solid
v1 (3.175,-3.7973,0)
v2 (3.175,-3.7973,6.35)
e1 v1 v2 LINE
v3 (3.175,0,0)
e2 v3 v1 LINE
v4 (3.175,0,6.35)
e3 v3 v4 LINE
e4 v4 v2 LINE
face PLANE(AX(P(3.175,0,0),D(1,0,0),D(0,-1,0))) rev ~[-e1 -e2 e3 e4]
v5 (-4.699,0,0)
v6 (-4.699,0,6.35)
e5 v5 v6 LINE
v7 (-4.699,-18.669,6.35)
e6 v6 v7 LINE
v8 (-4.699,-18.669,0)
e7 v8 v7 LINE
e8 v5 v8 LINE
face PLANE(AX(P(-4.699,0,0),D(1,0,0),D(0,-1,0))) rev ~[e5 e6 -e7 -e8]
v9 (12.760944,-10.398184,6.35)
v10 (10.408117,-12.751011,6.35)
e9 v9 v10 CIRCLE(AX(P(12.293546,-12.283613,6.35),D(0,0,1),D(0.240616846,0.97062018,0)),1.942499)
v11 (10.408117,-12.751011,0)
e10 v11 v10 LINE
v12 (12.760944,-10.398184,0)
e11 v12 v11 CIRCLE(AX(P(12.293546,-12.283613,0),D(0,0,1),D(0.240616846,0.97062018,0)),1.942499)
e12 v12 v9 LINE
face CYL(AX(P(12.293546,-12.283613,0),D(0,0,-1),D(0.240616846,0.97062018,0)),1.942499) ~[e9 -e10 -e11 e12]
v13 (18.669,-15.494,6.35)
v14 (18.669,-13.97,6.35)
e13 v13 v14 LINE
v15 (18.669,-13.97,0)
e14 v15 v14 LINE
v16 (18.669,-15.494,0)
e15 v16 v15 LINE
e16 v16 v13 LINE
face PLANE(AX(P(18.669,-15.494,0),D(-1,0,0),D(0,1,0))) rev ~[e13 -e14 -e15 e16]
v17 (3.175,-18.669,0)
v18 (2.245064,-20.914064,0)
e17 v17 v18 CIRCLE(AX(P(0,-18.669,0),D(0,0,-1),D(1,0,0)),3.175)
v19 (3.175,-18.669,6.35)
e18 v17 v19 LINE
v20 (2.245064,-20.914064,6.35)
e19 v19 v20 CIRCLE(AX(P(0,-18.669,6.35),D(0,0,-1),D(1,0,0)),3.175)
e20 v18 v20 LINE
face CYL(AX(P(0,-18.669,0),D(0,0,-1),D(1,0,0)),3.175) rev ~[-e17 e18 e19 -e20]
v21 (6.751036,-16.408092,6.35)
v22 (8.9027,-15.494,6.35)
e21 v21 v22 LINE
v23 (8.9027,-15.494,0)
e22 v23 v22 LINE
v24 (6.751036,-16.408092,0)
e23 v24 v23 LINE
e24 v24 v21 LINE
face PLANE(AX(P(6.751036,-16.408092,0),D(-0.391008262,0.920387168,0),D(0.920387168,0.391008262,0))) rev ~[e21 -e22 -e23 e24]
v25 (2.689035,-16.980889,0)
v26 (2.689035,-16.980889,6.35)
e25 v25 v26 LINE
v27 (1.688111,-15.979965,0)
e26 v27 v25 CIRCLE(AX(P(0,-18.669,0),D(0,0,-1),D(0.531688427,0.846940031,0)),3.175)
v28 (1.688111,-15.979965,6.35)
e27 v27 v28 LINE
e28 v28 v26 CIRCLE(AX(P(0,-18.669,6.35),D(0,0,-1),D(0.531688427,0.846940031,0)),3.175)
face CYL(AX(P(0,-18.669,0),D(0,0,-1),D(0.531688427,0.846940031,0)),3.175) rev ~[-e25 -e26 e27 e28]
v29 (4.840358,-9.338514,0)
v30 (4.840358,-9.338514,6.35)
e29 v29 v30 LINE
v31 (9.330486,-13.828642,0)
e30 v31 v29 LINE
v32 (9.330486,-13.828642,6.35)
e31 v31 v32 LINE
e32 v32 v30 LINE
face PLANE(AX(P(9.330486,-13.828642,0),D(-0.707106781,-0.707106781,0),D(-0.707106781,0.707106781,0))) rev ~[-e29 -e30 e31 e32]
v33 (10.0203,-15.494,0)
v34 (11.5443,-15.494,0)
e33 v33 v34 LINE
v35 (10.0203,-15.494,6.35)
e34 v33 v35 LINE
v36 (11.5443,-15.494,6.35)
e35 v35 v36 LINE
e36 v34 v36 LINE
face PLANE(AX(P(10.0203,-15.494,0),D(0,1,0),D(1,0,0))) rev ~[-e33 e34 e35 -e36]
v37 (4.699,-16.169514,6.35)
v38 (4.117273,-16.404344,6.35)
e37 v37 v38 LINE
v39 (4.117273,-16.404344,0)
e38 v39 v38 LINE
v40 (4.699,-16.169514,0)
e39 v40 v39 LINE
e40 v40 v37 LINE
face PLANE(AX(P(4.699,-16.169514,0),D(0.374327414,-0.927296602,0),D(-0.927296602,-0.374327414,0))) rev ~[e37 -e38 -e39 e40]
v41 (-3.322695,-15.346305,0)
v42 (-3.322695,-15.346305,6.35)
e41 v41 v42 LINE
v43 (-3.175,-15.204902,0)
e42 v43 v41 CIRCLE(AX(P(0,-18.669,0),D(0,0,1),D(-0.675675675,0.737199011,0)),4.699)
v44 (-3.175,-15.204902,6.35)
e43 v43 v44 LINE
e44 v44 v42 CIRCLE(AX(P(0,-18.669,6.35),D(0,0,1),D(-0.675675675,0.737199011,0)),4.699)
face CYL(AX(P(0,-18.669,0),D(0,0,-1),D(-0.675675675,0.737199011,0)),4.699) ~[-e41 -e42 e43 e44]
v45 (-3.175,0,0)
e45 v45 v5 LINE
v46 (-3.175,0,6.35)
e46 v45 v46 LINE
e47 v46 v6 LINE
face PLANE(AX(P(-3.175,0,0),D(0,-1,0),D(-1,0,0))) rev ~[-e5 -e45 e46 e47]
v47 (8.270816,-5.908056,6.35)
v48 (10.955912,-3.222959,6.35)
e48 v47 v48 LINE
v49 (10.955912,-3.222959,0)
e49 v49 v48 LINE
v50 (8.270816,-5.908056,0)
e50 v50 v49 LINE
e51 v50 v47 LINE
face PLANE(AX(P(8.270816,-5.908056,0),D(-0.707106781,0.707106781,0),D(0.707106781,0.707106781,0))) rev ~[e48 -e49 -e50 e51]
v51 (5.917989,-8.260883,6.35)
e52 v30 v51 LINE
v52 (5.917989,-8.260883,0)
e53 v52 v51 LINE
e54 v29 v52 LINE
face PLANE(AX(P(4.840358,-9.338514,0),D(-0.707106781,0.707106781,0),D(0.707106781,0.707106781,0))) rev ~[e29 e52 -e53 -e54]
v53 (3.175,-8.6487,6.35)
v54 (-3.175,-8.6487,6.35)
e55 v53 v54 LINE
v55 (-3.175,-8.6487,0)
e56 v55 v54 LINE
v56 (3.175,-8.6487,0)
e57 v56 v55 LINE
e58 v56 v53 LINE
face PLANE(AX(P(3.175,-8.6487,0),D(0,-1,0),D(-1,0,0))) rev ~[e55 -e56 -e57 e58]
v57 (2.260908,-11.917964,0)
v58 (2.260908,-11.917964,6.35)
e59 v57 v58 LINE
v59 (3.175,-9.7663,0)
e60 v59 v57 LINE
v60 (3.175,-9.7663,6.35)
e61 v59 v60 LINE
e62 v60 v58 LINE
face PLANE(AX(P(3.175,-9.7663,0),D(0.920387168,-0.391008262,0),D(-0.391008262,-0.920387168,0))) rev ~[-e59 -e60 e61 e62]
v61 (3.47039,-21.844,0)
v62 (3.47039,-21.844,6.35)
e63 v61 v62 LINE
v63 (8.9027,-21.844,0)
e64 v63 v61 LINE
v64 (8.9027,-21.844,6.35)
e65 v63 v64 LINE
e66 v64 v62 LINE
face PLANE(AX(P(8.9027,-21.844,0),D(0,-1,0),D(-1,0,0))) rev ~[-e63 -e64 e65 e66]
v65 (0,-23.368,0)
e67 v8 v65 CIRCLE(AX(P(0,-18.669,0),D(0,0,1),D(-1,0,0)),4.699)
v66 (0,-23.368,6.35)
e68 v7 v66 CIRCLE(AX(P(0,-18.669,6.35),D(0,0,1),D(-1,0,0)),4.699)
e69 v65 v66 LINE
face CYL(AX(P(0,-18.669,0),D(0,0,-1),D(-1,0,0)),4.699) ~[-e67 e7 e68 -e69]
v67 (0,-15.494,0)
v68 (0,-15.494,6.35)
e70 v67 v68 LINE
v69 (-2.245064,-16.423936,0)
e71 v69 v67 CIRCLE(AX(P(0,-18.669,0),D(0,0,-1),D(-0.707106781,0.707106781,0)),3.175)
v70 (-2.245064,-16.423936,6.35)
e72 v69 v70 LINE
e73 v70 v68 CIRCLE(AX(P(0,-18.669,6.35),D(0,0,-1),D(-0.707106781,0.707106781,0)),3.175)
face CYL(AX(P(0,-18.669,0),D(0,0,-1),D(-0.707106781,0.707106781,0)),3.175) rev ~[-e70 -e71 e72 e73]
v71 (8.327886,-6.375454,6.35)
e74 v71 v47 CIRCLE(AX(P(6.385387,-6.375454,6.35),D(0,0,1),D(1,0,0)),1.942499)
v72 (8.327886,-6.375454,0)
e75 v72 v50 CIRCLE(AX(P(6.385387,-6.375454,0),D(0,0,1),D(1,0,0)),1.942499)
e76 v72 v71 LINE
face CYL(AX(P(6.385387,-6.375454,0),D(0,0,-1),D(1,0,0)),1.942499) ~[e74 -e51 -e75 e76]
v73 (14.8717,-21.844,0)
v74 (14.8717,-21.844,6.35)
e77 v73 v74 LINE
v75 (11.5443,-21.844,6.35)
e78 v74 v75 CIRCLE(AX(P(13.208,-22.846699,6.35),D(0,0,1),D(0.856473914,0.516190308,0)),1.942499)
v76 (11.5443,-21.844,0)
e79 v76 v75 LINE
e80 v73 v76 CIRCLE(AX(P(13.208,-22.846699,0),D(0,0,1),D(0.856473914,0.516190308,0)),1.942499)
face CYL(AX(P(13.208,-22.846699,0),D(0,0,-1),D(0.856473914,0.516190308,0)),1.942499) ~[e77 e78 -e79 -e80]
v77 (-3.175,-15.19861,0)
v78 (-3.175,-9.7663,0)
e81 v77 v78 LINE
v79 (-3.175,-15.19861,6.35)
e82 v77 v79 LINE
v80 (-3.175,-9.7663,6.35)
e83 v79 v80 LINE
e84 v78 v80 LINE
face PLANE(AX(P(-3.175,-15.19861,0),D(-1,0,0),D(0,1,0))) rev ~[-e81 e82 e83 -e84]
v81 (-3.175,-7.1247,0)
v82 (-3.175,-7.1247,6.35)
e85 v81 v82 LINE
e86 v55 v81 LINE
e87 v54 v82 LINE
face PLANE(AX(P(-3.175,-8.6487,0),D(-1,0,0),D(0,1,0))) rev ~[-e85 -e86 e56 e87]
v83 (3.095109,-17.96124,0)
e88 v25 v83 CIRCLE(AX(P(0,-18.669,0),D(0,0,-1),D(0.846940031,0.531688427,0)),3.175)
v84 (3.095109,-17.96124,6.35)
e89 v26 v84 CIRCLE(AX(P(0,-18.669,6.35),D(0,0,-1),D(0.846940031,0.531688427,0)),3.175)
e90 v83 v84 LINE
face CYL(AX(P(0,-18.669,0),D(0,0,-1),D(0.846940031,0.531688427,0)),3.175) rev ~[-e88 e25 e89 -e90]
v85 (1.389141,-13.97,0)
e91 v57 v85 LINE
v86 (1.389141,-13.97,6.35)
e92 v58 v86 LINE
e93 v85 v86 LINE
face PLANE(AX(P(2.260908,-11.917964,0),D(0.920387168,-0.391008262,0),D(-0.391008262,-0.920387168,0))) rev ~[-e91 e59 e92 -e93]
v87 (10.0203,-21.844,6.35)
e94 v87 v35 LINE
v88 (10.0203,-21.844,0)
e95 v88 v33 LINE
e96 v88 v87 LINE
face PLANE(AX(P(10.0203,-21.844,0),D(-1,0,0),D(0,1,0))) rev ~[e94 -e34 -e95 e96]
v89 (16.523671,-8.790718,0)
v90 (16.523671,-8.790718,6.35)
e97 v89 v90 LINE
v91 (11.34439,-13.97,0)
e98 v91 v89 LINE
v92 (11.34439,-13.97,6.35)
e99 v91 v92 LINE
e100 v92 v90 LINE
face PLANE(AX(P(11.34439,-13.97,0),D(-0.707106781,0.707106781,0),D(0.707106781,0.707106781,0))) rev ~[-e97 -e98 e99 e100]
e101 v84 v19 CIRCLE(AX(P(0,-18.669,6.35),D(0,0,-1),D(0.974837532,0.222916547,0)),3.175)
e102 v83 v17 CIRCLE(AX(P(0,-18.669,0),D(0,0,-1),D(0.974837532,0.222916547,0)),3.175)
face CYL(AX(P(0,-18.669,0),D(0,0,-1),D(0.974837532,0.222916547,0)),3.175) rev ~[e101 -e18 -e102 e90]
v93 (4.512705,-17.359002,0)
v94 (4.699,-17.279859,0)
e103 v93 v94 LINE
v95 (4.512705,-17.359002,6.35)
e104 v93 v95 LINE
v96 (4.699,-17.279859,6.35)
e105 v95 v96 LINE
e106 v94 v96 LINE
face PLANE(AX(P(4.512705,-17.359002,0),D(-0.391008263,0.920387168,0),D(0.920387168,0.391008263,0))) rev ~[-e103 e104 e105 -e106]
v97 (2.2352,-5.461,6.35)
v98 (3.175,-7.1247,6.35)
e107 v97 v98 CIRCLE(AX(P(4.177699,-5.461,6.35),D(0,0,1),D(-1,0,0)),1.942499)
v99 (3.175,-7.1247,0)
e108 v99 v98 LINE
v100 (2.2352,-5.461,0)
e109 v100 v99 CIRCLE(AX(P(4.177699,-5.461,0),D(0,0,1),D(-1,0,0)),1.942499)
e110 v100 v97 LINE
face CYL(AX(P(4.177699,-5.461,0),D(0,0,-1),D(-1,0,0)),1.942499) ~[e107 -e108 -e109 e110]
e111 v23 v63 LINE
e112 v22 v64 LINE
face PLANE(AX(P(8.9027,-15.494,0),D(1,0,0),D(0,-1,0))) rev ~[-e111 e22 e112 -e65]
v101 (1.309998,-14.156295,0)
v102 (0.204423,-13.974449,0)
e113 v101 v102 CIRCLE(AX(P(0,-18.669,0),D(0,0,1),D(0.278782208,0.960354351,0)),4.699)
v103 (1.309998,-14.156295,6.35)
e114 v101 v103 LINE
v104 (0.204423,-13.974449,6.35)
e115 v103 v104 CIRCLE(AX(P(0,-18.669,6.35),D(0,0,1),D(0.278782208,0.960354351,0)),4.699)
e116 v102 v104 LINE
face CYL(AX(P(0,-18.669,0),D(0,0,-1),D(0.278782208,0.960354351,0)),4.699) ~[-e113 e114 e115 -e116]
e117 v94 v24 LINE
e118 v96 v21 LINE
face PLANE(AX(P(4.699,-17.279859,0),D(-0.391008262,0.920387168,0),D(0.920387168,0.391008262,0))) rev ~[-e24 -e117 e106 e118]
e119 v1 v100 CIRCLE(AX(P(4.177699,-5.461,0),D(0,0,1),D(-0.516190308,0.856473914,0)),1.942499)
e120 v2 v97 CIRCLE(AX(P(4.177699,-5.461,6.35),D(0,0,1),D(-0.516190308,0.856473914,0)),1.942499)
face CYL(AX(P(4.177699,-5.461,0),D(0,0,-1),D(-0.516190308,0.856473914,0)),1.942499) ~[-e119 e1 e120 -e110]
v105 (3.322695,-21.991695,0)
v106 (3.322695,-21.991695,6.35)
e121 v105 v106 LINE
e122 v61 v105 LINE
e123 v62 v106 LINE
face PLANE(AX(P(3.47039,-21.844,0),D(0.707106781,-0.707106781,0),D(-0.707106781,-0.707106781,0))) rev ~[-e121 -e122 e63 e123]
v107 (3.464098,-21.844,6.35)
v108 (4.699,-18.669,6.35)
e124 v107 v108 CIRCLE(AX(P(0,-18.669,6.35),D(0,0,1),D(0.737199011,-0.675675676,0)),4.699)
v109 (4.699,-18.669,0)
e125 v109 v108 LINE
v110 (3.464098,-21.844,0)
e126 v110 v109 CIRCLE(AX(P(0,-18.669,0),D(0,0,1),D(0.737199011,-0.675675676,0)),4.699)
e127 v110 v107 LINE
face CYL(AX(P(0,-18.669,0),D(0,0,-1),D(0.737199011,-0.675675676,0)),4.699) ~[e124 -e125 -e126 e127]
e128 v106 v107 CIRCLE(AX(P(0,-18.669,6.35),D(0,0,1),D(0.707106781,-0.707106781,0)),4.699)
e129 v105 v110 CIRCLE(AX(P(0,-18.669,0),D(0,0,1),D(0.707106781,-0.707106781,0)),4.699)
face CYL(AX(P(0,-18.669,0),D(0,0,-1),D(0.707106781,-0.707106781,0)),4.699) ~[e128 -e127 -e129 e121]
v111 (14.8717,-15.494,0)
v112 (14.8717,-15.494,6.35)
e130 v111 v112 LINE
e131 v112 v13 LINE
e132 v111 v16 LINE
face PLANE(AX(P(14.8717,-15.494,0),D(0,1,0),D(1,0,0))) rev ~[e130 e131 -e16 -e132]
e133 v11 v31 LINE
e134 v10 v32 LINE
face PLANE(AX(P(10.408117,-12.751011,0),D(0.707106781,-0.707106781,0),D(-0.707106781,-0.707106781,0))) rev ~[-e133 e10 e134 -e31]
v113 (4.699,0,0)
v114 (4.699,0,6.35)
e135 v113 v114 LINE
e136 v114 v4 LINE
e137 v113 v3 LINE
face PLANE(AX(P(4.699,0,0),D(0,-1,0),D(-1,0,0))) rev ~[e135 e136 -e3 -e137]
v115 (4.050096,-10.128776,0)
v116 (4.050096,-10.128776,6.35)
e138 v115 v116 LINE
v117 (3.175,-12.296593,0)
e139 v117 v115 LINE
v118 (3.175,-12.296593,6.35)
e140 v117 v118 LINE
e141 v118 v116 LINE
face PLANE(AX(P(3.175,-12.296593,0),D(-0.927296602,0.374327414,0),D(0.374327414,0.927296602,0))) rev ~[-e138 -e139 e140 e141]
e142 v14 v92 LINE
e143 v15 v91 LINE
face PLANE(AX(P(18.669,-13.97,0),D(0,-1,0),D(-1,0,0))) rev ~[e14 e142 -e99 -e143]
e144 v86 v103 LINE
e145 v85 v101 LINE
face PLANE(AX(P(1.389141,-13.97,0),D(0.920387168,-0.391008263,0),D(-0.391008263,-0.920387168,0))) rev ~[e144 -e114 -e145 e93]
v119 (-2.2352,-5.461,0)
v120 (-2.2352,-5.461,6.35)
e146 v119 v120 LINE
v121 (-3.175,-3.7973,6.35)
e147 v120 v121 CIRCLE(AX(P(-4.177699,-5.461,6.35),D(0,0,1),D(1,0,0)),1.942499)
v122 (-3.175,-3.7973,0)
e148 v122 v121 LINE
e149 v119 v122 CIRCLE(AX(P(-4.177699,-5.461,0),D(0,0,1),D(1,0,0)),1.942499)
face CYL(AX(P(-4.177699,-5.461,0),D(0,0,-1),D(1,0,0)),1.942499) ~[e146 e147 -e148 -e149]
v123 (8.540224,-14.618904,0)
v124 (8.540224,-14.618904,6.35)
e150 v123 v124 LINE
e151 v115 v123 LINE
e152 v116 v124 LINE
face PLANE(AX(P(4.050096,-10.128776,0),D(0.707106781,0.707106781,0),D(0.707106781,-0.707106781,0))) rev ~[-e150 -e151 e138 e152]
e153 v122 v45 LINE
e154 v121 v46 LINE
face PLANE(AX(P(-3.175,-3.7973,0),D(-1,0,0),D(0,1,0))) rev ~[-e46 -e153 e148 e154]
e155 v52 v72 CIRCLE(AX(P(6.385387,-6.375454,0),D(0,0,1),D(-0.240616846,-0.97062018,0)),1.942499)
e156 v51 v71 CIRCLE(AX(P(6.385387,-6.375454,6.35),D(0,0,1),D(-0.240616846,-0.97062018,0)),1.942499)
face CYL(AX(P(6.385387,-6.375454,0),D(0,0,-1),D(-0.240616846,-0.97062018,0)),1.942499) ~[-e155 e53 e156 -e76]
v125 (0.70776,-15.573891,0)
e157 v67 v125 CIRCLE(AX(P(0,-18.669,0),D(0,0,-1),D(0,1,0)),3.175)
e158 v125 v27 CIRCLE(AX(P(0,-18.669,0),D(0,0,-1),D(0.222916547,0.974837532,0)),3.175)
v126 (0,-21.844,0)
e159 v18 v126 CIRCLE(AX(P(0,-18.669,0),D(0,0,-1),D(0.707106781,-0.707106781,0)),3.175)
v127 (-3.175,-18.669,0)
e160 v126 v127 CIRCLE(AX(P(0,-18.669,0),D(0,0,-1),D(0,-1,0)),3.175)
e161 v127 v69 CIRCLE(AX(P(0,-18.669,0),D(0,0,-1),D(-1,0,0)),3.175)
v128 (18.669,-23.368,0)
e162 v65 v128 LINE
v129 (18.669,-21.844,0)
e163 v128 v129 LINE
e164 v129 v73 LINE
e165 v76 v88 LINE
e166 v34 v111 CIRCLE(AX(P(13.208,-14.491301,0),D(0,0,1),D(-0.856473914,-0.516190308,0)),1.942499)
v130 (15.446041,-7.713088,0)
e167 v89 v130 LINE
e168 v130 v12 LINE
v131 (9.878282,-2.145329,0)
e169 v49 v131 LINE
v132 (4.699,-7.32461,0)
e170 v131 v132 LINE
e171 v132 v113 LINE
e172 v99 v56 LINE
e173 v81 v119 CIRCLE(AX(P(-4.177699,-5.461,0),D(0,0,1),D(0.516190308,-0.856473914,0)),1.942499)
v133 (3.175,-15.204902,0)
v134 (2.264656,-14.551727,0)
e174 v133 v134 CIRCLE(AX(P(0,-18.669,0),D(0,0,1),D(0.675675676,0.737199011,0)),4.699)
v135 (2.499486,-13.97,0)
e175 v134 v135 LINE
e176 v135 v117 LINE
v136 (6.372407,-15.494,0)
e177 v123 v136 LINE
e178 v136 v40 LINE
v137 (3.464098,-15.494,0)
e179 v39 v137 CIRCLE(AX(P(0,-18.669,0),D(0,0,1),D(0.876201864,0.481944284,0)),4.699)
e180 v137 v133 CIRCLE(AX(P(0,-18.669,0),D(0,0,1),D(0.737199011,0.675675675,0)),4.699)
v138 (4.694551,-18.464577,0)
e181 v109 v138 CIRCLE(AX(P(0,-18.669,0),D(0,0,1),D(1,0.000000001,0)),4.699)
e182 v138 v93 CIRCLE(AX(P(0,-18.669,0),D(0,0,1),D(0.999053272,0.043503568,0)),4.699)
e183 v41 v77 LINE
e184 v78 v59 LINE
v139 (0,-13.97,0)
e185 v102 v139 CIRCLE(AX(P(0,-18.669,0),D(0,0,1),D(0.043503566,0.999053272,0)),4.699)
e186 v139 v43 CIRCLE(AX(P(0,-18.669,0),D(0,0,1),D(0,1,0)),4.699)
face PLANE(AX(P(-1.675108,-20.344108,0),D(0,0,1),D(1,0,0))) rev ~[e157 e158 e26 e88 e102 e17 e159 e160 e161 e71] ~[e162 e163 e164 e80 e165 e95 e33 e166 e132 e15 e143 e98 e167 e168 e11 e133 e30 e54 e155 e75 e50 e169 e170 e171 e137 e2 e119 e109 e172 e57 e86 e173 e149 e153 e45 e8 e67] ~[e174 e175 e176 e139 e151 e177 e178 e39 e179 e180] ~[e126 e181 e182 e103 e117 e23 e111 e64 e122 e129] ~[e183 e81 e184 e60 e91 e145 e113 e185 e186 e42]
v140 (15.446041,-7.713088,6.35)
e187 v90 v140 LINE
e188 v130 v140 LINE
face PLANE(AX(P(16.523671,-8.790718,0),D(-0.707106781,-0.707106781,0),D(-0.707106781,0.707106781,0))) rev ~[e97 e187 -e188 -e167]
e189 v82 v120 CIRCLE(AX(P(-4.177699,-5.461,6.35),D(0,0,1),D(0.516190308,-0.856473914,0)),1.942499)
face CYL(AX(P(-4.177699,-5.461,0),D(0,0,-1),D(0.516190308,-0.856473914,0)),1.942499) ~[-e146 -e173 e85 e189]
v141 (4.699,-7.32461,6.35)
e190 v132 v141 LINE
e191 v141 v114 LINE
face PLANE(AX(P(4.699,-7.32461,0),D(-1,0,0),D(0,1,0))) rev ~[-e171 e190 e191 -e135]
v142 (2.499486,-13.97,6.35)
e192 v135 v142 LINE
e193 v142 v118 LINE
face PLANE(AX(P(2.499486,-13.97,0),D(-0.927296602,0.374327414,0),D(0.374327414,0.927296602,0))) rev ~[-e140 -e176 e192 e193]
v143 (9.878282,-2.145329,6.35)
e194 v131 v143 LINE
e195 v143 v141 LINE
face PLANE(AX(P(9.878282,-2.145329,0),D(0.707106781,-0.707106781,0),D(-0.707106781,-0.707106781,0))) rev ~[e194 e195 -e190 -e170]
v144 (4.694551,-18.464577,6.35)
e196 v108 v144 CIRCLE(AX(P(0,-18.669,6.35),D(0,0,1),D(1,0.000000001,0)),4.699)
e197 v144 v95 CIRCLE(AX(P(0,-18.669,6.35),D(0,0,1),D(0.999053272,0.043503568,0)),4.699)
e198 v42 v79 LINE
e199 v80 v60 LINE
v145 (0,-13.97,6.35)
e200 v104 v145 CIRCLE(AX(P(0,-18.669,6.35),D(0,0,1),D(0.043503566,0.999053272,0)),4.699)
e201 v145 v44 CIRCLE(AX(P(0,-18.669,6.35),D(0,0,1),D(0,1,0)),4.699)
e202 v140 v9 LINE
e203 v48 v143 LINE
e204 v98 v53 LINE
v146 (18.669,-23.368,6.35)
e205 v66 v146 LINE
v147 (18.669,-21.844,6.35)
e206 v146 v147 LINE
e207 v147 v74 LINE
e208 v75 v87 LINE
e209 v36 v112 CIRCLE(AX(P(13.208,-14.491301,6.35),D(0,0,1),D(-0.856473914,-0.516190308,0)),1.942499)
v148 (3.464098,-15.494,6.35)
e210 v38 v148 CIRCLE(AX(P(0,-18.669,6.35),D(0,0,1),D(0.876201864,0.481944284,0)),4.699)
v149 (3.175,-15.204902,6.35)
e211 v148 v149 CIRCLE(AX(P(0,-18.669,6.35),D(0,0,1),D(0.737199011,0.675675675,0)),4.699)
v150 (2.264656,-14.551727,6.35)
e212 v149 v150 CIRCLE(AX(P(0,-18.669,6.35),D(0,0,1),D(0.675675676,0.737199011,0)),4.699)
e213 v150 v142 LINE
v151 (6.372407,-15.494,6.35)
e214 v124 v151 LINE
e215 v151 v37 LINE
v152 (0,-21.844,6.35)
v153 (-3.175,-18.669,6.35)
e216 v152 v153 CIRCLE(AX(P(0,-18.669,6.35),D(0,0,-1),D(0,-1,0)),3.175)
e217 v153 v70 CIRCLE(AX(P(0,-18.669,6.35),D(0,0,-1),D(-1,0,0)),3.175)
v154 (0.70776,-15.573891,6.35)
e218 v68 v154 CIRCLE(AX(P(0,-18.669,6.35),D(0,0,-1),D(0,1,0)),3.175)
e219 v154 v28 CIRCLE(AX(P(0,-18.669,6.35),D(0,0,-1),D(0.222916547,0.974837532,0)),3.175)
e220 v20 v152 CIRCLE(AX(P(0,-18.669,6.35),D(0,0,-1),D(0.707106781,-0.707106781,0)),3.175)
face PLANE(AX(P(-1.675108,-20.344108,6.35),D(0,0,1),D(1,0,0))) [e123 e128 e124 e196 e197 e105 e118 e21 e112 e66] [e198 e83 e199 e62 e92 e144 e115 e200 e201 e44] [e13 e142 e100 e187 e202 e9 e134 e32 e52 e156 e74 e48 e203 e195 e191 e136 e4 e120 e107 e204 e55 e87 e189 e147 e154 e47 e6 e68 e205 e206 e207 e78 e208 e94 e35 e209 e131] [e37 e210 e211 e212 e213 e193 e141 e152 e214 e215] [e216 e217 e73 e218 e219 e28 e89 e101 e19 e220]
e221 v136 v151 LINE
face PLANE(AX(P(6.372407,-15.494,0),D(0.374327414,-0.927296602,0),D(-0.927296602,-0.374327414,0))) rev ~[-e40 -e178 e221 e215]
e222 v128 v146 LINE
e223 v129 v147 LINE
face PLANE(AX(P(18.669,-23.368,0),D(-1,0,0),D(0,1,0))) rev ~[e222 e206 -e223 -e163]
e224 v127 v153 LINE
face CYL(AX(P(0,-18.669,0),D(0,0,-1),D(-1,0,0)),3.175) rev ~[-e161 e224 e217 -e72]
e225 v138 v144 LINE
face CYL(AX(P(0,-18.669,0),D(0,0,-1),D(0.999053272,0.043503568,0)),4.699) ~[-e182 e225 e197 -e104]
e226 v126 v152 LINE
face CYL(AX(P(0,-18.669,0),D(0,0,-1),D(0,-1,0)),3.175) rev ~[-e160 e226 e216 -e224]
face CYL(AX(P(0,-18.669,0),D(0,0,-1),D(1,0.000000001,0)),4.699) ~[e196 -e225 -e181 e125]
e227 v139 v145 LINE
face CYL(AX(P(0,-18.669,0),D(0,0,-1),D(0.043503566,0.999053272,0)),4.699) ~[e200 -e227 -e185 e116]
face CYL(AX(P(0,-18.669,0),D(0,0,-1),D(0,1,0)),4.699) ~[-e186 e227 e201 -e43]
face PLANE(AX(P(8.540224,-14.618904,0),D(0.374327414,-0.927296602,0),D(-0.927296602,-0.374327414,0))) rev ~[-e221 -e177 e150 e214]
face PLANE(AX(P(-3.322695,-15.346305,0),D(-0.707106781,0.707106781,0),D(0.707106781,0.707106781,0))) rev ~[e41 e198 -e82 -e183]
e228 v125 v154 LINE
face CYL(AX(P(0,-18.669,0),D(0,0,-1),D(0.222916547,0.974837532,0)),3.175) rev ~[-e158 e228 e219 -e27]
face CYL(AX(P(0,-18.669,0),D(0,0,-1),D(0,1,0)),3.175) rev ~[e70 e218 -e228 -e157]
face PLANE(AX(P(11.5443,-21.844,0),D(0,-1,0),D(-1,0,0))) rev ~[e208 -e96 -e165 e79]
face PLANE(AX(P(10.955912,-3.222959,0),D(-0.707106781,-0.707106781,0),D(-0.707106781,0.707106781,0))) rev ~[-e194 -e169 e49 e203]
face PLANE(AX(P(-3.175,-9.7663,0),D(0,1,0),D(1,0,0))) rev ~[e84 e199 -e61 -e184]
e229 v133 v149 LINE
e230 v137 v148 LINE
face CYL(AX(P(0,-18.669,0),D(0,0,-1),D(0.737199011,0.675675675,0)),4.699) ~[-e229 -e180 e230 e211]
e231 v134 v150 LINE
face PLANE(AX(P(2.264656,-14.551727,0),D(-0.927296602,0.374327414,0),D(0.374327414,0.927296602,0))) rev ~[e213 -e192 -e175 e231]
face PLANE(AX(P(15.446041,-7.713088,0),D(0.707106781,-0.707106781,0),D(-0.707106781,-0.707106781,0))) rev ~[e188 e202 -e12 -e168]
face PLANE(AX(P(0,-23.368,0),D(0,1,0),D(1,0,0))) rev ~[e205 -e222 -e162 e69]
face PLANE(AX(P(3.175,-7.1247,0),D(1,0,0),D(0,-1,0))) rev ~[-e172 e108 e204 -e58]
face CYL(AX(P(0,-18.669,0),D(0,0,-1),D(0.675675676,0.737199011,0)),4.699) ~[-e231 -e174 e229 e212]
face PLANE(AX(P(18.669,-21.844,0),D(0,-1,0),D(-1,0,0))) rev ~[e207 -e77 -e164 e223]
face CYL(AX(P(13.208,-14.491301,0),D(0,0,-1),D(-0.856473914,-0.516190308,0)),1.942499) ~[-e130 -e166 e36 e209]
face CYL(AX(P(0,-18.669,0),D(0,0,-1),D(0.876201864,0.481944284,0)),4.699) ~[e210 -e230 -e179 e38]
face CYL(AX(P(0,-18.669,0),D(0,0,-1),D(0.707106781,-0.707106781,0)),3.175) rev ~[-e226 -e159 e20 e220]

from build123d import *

# Parameters (mm, degrees)
F0_W     = 1.524
F0_H     = 4.2037
F0_W_2   = 4.2037
F0_H_2   = 1.524
F1_DEPTH = 6.35


with BuildPart() as f1:
    # F0 (on Top) → F1 (new body)
    with BuildSketch(Plane.XY):
        with BuildLine():
            Line((-3.175, -18.669), (-3.175, -15.204901849))
            ThreePointArc((-3.175, -15.204901849), (-3.2496165995, -15.2748001007), (-3.3226947648, -15.3463052352))
            ThreePointArc((-3.3226947648, -15.3463052352), (-4.3413099233, -16.8707705513), (-4.699, -18.669))
            ThreePointArc((-4.699, -18.669), (-3.3226947563, -21.9916947733), (2.39e-08, -23.368))
            ThreePointArc((2.39e-08, -23.368), (1.7982294597, -23.0103099187), (3.3226947648, -21.9916947648))
            ThreePointArc((3.3226947648, -21.9916947648), (3.3941998993, -21.9186165995), (3.464098151, -21.844))
            Line((3.464098151, -21.844), (0, -21.844))
            ThreePointArc((0, -21.844), (-2.2450640303, -20.9140640303), (-3.175, -18.669))
        make_face()
        with BuildLine():
            ThreePointArc((0.204423263, -13.9744486764), (0.1022358318, -13.9711123008), (0, -13.97))
            ThreePointArc((0, -13.97), (-1.7033501972, -14.2895937496), (-3.175, -15.204901849))
            Line((-3.175, -15.204901849), (-3.175, -18.669))
            ThreePointArc((-3.175, -18.669), (-2.9333175157, -17.4539801022), (-2.2450640303, -16.4239359697))
            Line((-2.2450640303, -16.4239359697), (0.204423263, -13.9744486764))
        make_face()
        with BuildLine():
            ThreePointArc((1.3099975978, -14.1562949028), (0.7626497547, -14.0323022148), (0.204423263, -13.9744486764))
            Line((0.204423263, -13.9744486764), (-2.2450640303, -16.4239359697))
            ThreePointArc((-2.2450640303, -16.4239359697), (-1.2150198978, -15.7356824843), (0, -15.494))
            Line((0, -15.494), (0.7417000769, -15.494))
            Line((0.7417000769, -15.494), (1.3099975978, -14.1562949028))
        make_face()
        with BuildLine():
            Line((0.7077600368, -15.5738908371), (0.7417000769, -15.494))
            Line((0.7417000769, -15.494), (0, -15.494))
            ThreePointArc((0, -15.494), (0.3561273703, -15.5140359279), (0.7077600368, -15.5738908371))
        make_face()
        with BuildLine():
            Line((1.8842833415, -15.494), (0.7417000769, -15.494))
            Line((0.7417000769, -15.494), (0.7077600368, -15.5738908371))
            ThreePointArc((0.7077600368, -15.5738908371), (1.2150198978, -15.7356824843), (1.6881107561, -15.9799654009))
            Line((1.6881107561, -15.9799654009), (1.8842833415, -15.494))
        make_face()
        with BuildLine():
            ThreePointArc((2.264656191, -14.5517274396), (1.7982294487, -14.3276900767), (1.3099975978, -14.1562949028))
            Line((1.3099975978, -14.1562949028), (0.7417000769, -15.494))
            Line((0.7417000769, -15.494), (1.8842833415, -15.494))
            Line((1.8842833415, -15.494), (2.264656191, -14.5517274396))
        make_face()
        with BuildLine():
            Line((3.175, -15.494), (3.175, -15.204901849))
            ThreePointArc((3.175, -15.204901849), (2.739365633, -14.8510847405), (2.264656191, -14.5517274396))
            Line((2.264656191, -14.5517274396), (1.8842833415, -15.494))
            Line((1.8842833415, -15.494), (3.175, -15.494))
        make_face()
        with BuildLine():
            Line((3.175, -16.7847166585), (3.175, -15.494))
            Line((3.175, -15.494), (1.8842833415, -15.494))
            Line((1.8842833415, -15.494), (1.6881107561, -15.9799654009))
            ThreePointArc((1.6881107561, -15.9799654009), (2.2450640303, -16.4239359697), (2.6890345991, -16.9808892439))
            Line((2.6890345991, -16.9808892439), (3.175, -16.7847166585))
        make_face()
        with BuildLine():
            ThreePointArc((4.1172725604, -16.404343809), (3.8179152595, -15.929634367), (3.464098151, -15.494))
            Line((3.464098151, -15.494), (3.175, -15.494))
            Line((3.175, -15.494), (3.175, -16.7847166585))
            Line((3.175, -16.7847166585), (4.1172725604, -16.404343809))
        make_face()
        with BuildLine():
            Line((3.175, -17.9272999231), (3.175, -16.7847166585))
            Line((3.175, -16.7847166585), (2.6890345991, -16.9808892439))
            ThreePointArc((2.6890345991, -16.9808892439), (2.9333175157, -17.4539801022), (3.0951091629, -17.9612399632))
            Line((3.0951091629, -17.9612399632), (3.175, -17.9272999231))
        make_face()
        with BuildLine():
            ThreePointArc((4.5127050972, -17.3590024022), (4.3413099233, -16.8707705513), (4.1172725604, -16.404343809))
            Line((4.1172725604, -16.404343809), (3.175, -16.7847166585))
            Line((3.175, -16.7847166585), (3.175, -17.9272999231))
            Line((3.175, -17.9272999231), (4.5127050972, -17.3590024022))
        make_face()
        with BuildLine():
            ThreePointArc((3.464098151, -15.494), (3.3226947648, -15.3463052352), (3.175, -15.204901849))
            Line((3.175, -15.204901849), (3.175, -15.494))
            Line((3.175, -15.494), (3.464098151, -15.494))
        make_face()
        with BuildLine():
            ThreePointArc((3.175, -18.669), (2.9333175157, -19.8840198978), (2.2450640303, -20.9140640303))
            Line((2.2450640303, -20.9140640303), (4.6945513236, -18.464576737))
            ThreePointArc((4.6945513236, -18.464576737), (4.6366977852, -17.9063502453), (4.5127050972, -17.3590024022))
            Line((4.5127050972, -17.3590024022), (3.175, -17.9272999231))
            Line((3.175, -17.9272999231), (3.175, -18.669))
        make_face()
        with BuildLine():
            ThreePointArc((3.0951091629, -17.9612399632), (3.1549640721, -18.3128726297), (3.175, -18.669))
            Line((3.175, -18.669), (3.175, -17.9272999231))
            Line((3.175, -17.9272999231), (3.0951091629, -17.9612399632))
        make_face()
        with BuildLine():
            ThreePointArc((2.2450640303, -20.9140640303), (1.2150198978, -21.6023175157), (0, -21.844))
            Line((0, -21.844), (3.464098151, -21.844))
            ThreePointArc((3.464098151, -21.844), (4.3794062504, -20.3723501972), (4.699, -18.669))
            ThreePointArc((4.699, -18.669), (4.6978876992, -18.5667641682), (4.6945513236, -18.464576737))
            Line((4.6945513236, -18.464576737), (2.2450640303, -20.9140640303))
        make_face()
        with BuildLine():
            Line((-3.3226947648, -15.3463052352), (-4.699, -16.7226104704))
            Line((-4.699, -16.7226104704), (-4.699, -18.669))
            ThreePointArc((-4.699, -18.669), (-4.3413099233, -16.8707705513), (-3.3226947648, -15.3463052352))
        make_face()
        Polygon((-3.175, -15.1986104704), (-3.175, -13.97), (-4.699, -13.97), (-4.699, -16.7226104704), (-3.3226947648, -15.3463052352), align=None)
        with Locations((-3.937, -11.86815)):
            Rectangle(F0_W, F0_H)
        with BuildLine():
            Line((-3.175, -8.6487), (-3.175, -7.1247))
            ThreePointArc((-3.175, -7.1247), (-3.9155835913, -7.3857334796), (-4.699, -7.3322426969))
            Line((-4.699, -7.3322426969), (-4.699, -9.7663))
            Line((-4.699, -9.7663), (-3.175, -9.7663))
            Line((-3.175, -9.7663), (-3.175, -8.6487))
        make_face()
        with BuildLine():
            Line((-3.175, -7.1247), (-3.175, -3.7973))
            ThreePointArc((-3.175, -3.7973), (-3.9155835913, -3.5362665204), (-4.699, -3.5897573031))
            Line((-4.699, -3.5897573031), (-4.699, -7.3322426969))
            ThreePointArc((-4.699, -7.3322426969), (-3.9155835913, -7.3857334796), (-3.175, -7.1247))
        make_face()
        with BuildLine():
            Line((-3.175, -3.7973), (-3.175, 0))
            Line((-3.175, 0), (-4.699, 0))
            Line((-4.699, 0), (-4.699, -3.5897573031))
            ThreePointArc((-4.699, -3.5897573031), (-3.9155835913, -3.5362665204), (-3.175, -3.7973))
        make_face()
        with BuildLine():
            ThreePointArc((-2.2352, -5.461), (-2.4863911938, -4.5056045675), (-3.175, -3.7973))
            Line((-3.175, -3.7973), (-3.175, -7.1247))
            ThreePointArc((-3.175, -7.1247), (-2.4863911938, -6.4163954325), (-2.2352, -5.461))
        make_face()
        with BuildLine():
            Line((4.699, 0), (3.175, 0))
            Line((3.175, 0), (3.175, -3.7973))
            ThreePointArc((3.175, -3.7973), (3.9155835913, -3.5362665204), (4.699, -3.5897573031))
            Line((4.699, -3.5897573031), (4.699, 0))
        make_face()
        with BuildLine():
            ThreePointArc((4.699, -3.5897573031), (3.9155835913, -3.5362665204), (3.175, -3.7973))
            Line((3.175, -3.7973), (3.175, -7.1247))
            ThreePointArc((3.175, -7.1247), (3.9101706223, -7.3849885703), (4.6884647047, -7.3351457657))
            Line((4.6884647047, -7.3351457657), (4.6936032009, -7.3300072695))
            ThreePointArc((4.6936032009, -7.3300072695), (4.4428952043, -6.3699901333), (4.699, -5.4113985962))
            Line((4.699, -5.4113985962), (4.699, -3.5897573031))
        make_face()
        with BuildLine():
            Line((3.175, -7.1247), (3.175, -3.7973))
            ThreePointArc((3.175, -3.7973), (2.4863911937, -4.5056045676), (2.2352, -5.4610000002))
            ThreePointArc((2.2352, -5.4610000002), (2.4863911938, -6.4163954326), (3.175, -7.1247))
        make_face()
        with BuildLine():
            Line((4.699, -7.3246104704), (4.699, -5.4113985962))
            ThreePointArc((4.699, -5.4113985962), (4.4428952043, -6.3699901333), (4.6936032009, -7.3300072695))
            Line((4.6936032009, -7.3300072695), (4.699, -7.3246104704))
        make_face()
        with BuildLine():
            ThreePointArc((4.6884647047, -7.3351457657), (3.9101706223, -7.3849885703), (3.175, -7.1247))
            Line((3.175, -7.1247), (3.175, -8.6487))
            Line((3.175, -8.6487), (3.175, -8.8486104704))
            Line((3.175, -8.8486104704), (4.6884647047, -7.3351457657))
        make_face()
        Polygon((3.6876190817, -9.7663), (3.175, -9.2536809183), (3.175, -9.7663), align=None)
        Polygon((3.6876190817, -9.7663), (3.175, -9.7663), (3.175, -11.0038719395), (4.0500955106, -10.1287764289), align=None)
        Polygon((4.0500955106, -10.1287764289), (3.175, -11.0038719395), (3.175, -12.2965927924), align=None)
        with BuildLine():
            Line((9.8782817332, -2.1453287372), (7.3399400013, -4.6836704691))
            ThreePointArc((7.3399400013, -4.6836704691), (7.9317227516, -5.199805829), (8.2708158875, -5.908056052))
            Line((8.2708158875, -5.908056052), (10.9559124677, -3.2229594718))
            Line((10.9559124677, -3.2229594718), (9.8782817332, -2.1453287372))
        make_face()
        with BuildLine():
            ThreePointArc((8.2708158875, -5.908056052), (7.9317227516, -5.199805829), (7.3399400013, -4.6836704691))
            Line((7.3399400013, -4.6836704691), (6.0518450901, -5.9717653803))
            ThreePointArc((6.0518450901, -5.9717653803), (5.5551119515, -6.8306853943), (4.699, -7.3322426969))
            Line((4.699, -7.3322426969), (4.699, -7.339509628))
            ThreePointArc((4.699, -7.339509628), (5.2140928383, -7.9250908364), (5.9179887838, -8.2608831557))
            Line((5.9179887838, -8.2608831557), (8.2708158875, -5.908056052))
        make_face()
        with BuildLine():
            ThreePointArc((8.3278861682, -6.3754541121), (8.3135658123, -6.1400194271), (8.2708158875, -5.908056052))
            Line((8.2708158875, -5.908056052), (5.9179887838, -8.2608831557))
            ThreePointArc((5.9179887838, -8.2608831557), (7.5823378055, -7.9053599983), (8.3278861682, -6.3754541121))
        make_face()
        with BuildLine():
            Line((16.5236712628, -8.7907182668), (15.4460405282, -7.7130875323))
            Line((15.4460405282, -7.7130875323), (12.760943948, -10.3981841125))
            ThreePointArc((12.760943948, -10.3981841125), (13.469194171, -10.7372772484), (13.9853295309, -11.3290599987))
            Line((13.9853295309, -11.3290599987), (16.5236712628, -8.7907182668))
        make_face()
        with BuildLine():
            ThreePointArc((13.9853295309, -11.3290599987), (13.469194171, -10.7372772484), (12.760943948, -10.3981841125))
            Line((12.760943948, -10.3981841125), (10.4081168443, -12.7510112162))
            ThreePointArc((10.4081168443, -12.7510112162), (10.7439091636, -13.4549071617), (11.329490372, -13.97))
            Line((11.329490372, -13.97), (11.3367573031, -13.97))
            ThreePointArc((11.3367573031, -13.97), (11.8383146057, -13.1138880485), (12.6972346197, -12.6171549099))
            Line((12.6972346197, -12.6171549099), (13.9853295309, -11.3290599987))
        make_face()
        with BuildLine():
            Line((10.4081168443, -12.7510112162), (12.760943948, -10.3981841125))
            ThreePointArc((12.760943948, -10.3981841125), (10.9199914432, -10.9100587114), (10.4081168443, -12.7510112162))
        make_face()
        with BuildLine():
            ThreePointArc((5.9179887838, -8.2608831557), (5.2140928383, -7.9250908364), (4.699, -7.339509628))
            Line((4.699, -7.339509628), (4.699, -9.4798719395))
            Line((4.699, -9.4798719395), (4.8403580493, -9.3385138902))
            Line((4.8403580493, -9.3385138902), (5.9179887838, -8.2608831557))
        make_face()
        with BuildLine():
            Line((6.0518450901, -5.9717653803), (4.699, -7.3246104704))
            Line((4.699, -7.3246104704), (4.699, -7.3322426969))
            ThreePointArc((4.699, -7.3322426969), (5.5551119515, -6.8306853943), (6.0518450901, -5.9717653803))
        make_face()
        with BuildLine():
            Line((11.3443895296, -13.97), (12.6972346197, -12.6171549099))
            ThreePointArc((12.6972346197, -12.6171549099), (11.8383146057, -13.1138880485), (11.3367573031, -13.97))
            Line((11.3367573031, -13.97), (11.3443895296, -13.97))
        make_face()
        with BuildLine():
            Line((14.8717, -15.494), (11.5443, -15.494))
            ThreePointArc((11.5443, -15.494), (13.208, -16.4338), (14.8717, -15.494))
        make_face()
        with BuildLine():
            ThreePointArc((13.2576014038, -13.97), (12.2990098667, -14.2261047957), (11.3389927305, -13.9753967991))
            Line((11.3389927305, -13.9753967991), (11.3338542343, -13.9805352953))
            ThreePointArc((11.3338542343, -13.9805352953), (11.2840114297, -14.7588293777), (11.5443, -15.494))
            Line((11.5443, -15.494), (14.8717, -15.494))
            ThreePointArc((14.8717, -15.494), (15.0795020373, -15.0116695348), (15.1504993243, -14.4913006757))
            ThreePointArc((15.1504993243, -14.4913006757), (15.1326027251, -14.2282265885), (15.0792426969, -13.97))
            Line((15.0792426969, -13.97), (13.2576014038, -13.97))
        make_face()
        with BuildLine():
            Line((18.669, -13.97), (15.0792426969, -13.97))
            ThreePointArc((15.0792426969, -13.97), (15.1326027251, -14.2282265885), (15.1504993243, -14.4913006757))
            ThreePointArc((15.1504993243, -14.4913006757), (15.0795020373, -15.0116695348), (14.8717, -15.494))
            Line((14.8717, -15.494), (18.669, -15.494))
            Line((18.669, -15.494), (18.669, -13.97))
        make_face()
        with BuildLine():
            ThreePointArc((11.5443, -15.494), (11.2840114297, -14.7588293777), (11.3338542343, -13.9805352953))
            Line((11.3338542343, -13.9805352953), (9.8203895296, -15.494))
            Line((9.8203895296, -15.494), (10.0203, -15.494))
            Line((10.0203, -15.494), (11.5443, -15.494))
        make_face()
        with BuildLine():
            ThreePointArc((14.8717, -21.844), (13.208, -20.9042), (11.5443, -21.844))
            Line((11.5443, -21.844), (14.8717, -21.844))
        make_face()
        with BuildLine():
            Line((8.9027, -21.844), (8.9027, -23.368))
            Line((8.9027, -23.368), (11.3367573031, -23.368))
            ThreePointArc((11.3367573031, -23.368), (11.2832665204, -22.5845835913), (11.5443, -21.844))
            Line((11.5443, -21.844), (10.0203, -21.844))
            Line((10.0203, -21.844), (8.9027, -21.844))
        make_face()
        with BuildLine():
            ThreePointArc((11.5443, -21.844), (11.2832665204, -22.5845835913), (11.3367573031, -23.368))
            Line((11.3367573031, -23.368), (15.0792426969, -23.368))
            ThreePointArc((15.0792426969, -23.368), (15.1326027251, -23.1097734115), (15.1504993243, -22.8466993243))
            ThreePointArc((15.1504993243, -22.8466993243), (15.0795020373, -22.3263304652), (14.8717, -21.844))
            Line((14.8717, -21.844), (11.5443, -21.844))
        make_face()
        with BuildLine():
            ThreePointArc((15.1504993243, -22.8466993243), (15.1326027251, -23.1097734115), (15.0792426969, -23.368))
            Line((15.0792426969, -23.368), (18.669, -23.368))
            Line((18.669, -23.368), (18.669, -21.844))
            Line((18.669, -21.844), (14.8717, -21.844))
            ThreePointArc((14.8717, -21.844), (15.0795020373, -22.3263304652), (15.1504993243, -22.8466993243))
        make_face()
        with BuildLine():
            ThreePointArc((3.3226947648, -21.9916947648), (1.7982294597, -23.0103099187), (2.39e-08, -23.368))
            Line((2.39e-08, -23.368), (1.9463895296, -23.368))
            Line((1.9463895296, -23.368), (3.3226947648, -21.9916947648))
        make_face()
        Polygon((3.3226947648, -21.9916947648), (1.9463895296, -23.368), (4.699, -23.368), (4.699, -21.844), (3.4703895296, -21.844), align=None)
        with Locations((6.80085, -22.606)):
            Rectangle(F0_W_2, F0_H_2)
        with BuildLine():
            ThreePointArc((4.6954279578, -7.3332341432), (4.6919472195, -7.3341931901), (4.6884647047, -7.3351457657))
            Line((4.6884647047, -7.3351457657), (3.175, -8.8486104704))
            Line((3.175, -8.8486104704), (3.175, -9.2536809183))
            Line((3.175, -9.2536809183), (3.6876190817, -9.7663))
            Line((3.6876190817, -9.7663), (4.4125719395, -9.7663))
            Line((4.4125719395, -9.7663), (4.699, -9.4798719395))
            Line((4.699, -9.4798719395), (4.699, -7.339509628))
            ThreePointArc((4.699, -7.339509628), (4.6972110629, -7.3363735454), (4.6954279578, -7.3332341432))
        make_face()
        Polygon((4.4125719395, -9.7663), (3.6876190817, -9.7663), (4.0500955106, -10.1287764289), align=None)
        Polygon((3.175, -11.0038719395), (3.175, -9.7663), (2.2609083187, -11.9179636207), align=None)
        Polygon((3.175, -12.2965927924), (3.175, -11.0038719395), (2.2609083187, -11.9179636207), (1.3891412982, -13.97), (2.4994856163, -13.97), align=None)
        with BuildLine():
            Line((2.4994856163, -13.97), (1.3891412982, -13.97))
            Line((1.3891412982, -13.97), (1.3099975978, -14.1562949028))
            ThreePointArc((1.3099975978, -14.1562949028), (1.7982294487, -14.3276900767), (2.264656191, -14.5517274396))
            Line((2.264656191, -14.5517274396), (2.4994856163, -13.97))
        make_face()
        with BuildLine():
            Line((10.4081168443, -12.7510112162), (9.3304861098, -13.8286419507))
            Line((9.3304861098, -13.8286419507), (9.1891280605, -13.97))
            Line((9.1891280605, -13.97), (11.329490372, -13.97))
            ThreePointArc((11.329490372, -13.97), (10.7439091636, -13.4549071617), (10.4081168443, -12.7510112162))
        make_face()
        with BuildLine():
            Line((11.329490372, -13.97), (9.1891280605, -13.97))
            Line((9.1891280605, -13.97), (8.9027, -14.2564280605))
            Line((8.9027, -14.2564280605), (8.9027, -14.9813809183))
            Line((8.9027, -14.9813809183), (9.4153190817, -15.494))
            Line((9.4153190817, -15.494), (9.8203895296, -15.494))
            Line((9.8203895296, -15.494), (11.3338542343, -13.9805352953))
            ThreePointArc((11.3338542343, -13.9805352953), (11.3348068099, -13.9770527805), (11.3357658568, -13.9735720422))
            ThreePointArc((11.3357658568, -13.9735720422), (11.3326264546, -13.9717889371), (11.329490372, -13.97))
        make_face()
        with BuildLine():
            Line((13.2576014038, -13.97), (11.3443895296, -13.97))
            Line((11.3443895296, -13.97), (11.3389927305, -13.9753967991))
            ThreePointArc((11.3389927305, -13.9753967991), (12.2990098667, -14.2261047957), (13.2576014038, -13.97))
        make_face()
        Polygon((9.4153190817, -15.494), (8.9027, -14.9813809183), (8.9027, -15.494), align=None)
        Polygon((8.9027, -14.2564280605), (8.5402235711, -14.6189044894), (8.9027, -14.9813809183), align=None)
        Polygon((8.9027, -14.9813809183), (8.5402235711, -14.6189044894), (7.6651280605, -15.494), (8.9027, -15.494), align=None)
        Polygon((7.6651280605, -15.494), (8.5402235711, -14.6189044894), (6.3724072076, -15.494), align=None)
        Polygon((8.9027, -15.494), (7.6651280605, -15.494), (6.7510363793, -16.4080916813), align=None)
        Polygon((6.3724072076, -15.494), (4.699, -16.1695143837), (4.699, -17.2798587018), (6.7510363793, -16.4080916813), (7.6651280605, -15.494), align=None)
        with BuildLine():
            Line((4.699, -17.2798587018), (4.699, -16.1695143837))
            Line((4.699, -16.1695143837), (4.1172725604, -16.404343809))
            ThreePointArc((4.1172725604, -16.404343809), (4.3413099233, -16.8707705513), (4.5127050972, -17.3590024022))
            Line((4.5127050972, -17.3590024022), (4.699, -17.2798587018))
        make_face()
        Polygon((2.9724647761, -9.0511456943), (2.2573104704, -9.7663), (3.175, -9.7663), (3.175, -9.2536809183), align=None)
        Polygon((3.175, -9.2536809183), (3.175, -8.8486104704), (2.9724647761, -9.0511456943), align=None)
        Polygon((2.2352, -8.6487), (0, -8.6487), (-2.2352, -8.6487), (-3.175, -8.6487), (-3.175, -9.7663), (2.2573104704, -9.7663), (2.9724647761, -9.0511456943), (3.175, -8.8486104704), (3.175, -8.6487), align=None)
        Polygon((4.699, -9.7663), (4.699, -9.4798719395), (4.4125719395, -9.7663), align=None)
        Polygon((4.699, -9.7663), (4.4125719395, -9.7663), (4.0500955106, -10.1287764289), (4.699, -10.7776809183), align=None)
        Polygon((4.8403580493, -9.3385138902), (4.699, -9.4798719395), (4.699, -9.7663), (4.699, -10.7776809183), (7.8913190817, -13.97), (8.9027, -13.97), (9.1891280605, -13.97), (9.3304861098, -13.8286419507), align=None)
        Polygon((8.9027, -13.97), (7.8913190817, -13.97), (8.5402235711, -14.6189044894), (8.9027, -14.2564280605), align=None)
        Polygon((8.9027, -14.2564280605), (9.1891280605, -13.97), (8.9027, -13.97), align=None)
        Polygon((8.9027, -16.4116895296), (8.9027, -21.844), (10.0203, -21.844), (10.0203, -15.494), (9.8203895296, -15.494), (9.6178543057, -15.6965352239), align=None)
        Polygon((9.6178543057, -15.6965352239), (9.4153190817, -15.494), (8.9027, -15.494), (8.9027, -16.4116895296), align=None)
        Polygon((9.8203895296, -15.494), (9.4153190817, -15.494), (9.6178543057, -15.6965352239), align=None)
        with BuildLine():
            ThreePointArc((4.699, -7.3322426969), (4.6972142154, -7.3327392722), (4.6954279578, -7.3332341432))
            ThreePointArc((4.6954279578, -7.3332341432), (4.6972110629, -7.3363735454), (4.699, -7.339509628))
            Line((4.699, -7.339509628), (4.699, -7.3322426969))
        make_face()
        with BuildLine():
            Line((4.6936032009, -7.3300072695), (4.6884647047, -7.3351457657))
            ThreePointArc((4.6884647047, -7.3351457657), (4.6919472195, -7.3341931901), (4.6954279578, -7.3332341432))
            ThreePointArc((4.6954279578, -7.3332341432), (4.6945148096, -7.3316211417), (4.6936032009, -7.3300072695))
        make_face()
        with BuildLine():
            ThreePointArc((4.6936032009, -7.3300072695), (4.6945148096, -7.3316211417), (4.6954279578, -7.3332341432))
            ThreePointArc((4.6954279578, -7.3332341432), (4.6972142154, -7.3327392722), (4.699, -7.3322426969))
            Line((4.699, -7.3322426969), (4.699, -7.3246104704))
            Line((4.699, -7.3246104704), (4.6936032009, -7.3300072695))
        make_face()
        with BuildLine():
            ThreePointArc((11.3389927305, -13.9753967991), (11.3373788583, -13.9744851904), (11.3357658568, -13.9735720422))
            ThreePointArc((11.3357658568, -13.9735720422), (11.3348068099, -13.9770527805), (11.3338542343, -13.9805352953))
            Line((11.3338542343, -13.9805352953), (11.3389927305, -13.9753967991))
        make_face()
        with BuildLine():
            Line((11.3367573031, -13.97), (11.329490372, -13.97))
            ThreePointArc((11.329490372, -13.97), (11.3326264546, -13.9717889371), (11.3357658568, -13.9735720422))
            ThreePointArc((11.3357658568, -13.9735720422), (11.3362607278, -13.9717857846), (11.3367573031, -13.97))
        make_face()
        with BuildLine():
            Line((11.3443895296, -13.97), (11.3367573031, -13.97))
            ThreePointArc((11.3367573031, -13.97), (11.3362607278, -13.9717857846), (11.3357658568, -13.9735720422))
            ThreePointArc((11.3357658568, -13.9735720422), (11.3373788583, -13.9744851904), (11.3389927305, -13.9753967991))
            Line((11.3389927305, -13.9753967991), (11.3443895296, -13.97))
        make_face()
    extrude(amount=F1_DEPTH)


solid = f1.part
